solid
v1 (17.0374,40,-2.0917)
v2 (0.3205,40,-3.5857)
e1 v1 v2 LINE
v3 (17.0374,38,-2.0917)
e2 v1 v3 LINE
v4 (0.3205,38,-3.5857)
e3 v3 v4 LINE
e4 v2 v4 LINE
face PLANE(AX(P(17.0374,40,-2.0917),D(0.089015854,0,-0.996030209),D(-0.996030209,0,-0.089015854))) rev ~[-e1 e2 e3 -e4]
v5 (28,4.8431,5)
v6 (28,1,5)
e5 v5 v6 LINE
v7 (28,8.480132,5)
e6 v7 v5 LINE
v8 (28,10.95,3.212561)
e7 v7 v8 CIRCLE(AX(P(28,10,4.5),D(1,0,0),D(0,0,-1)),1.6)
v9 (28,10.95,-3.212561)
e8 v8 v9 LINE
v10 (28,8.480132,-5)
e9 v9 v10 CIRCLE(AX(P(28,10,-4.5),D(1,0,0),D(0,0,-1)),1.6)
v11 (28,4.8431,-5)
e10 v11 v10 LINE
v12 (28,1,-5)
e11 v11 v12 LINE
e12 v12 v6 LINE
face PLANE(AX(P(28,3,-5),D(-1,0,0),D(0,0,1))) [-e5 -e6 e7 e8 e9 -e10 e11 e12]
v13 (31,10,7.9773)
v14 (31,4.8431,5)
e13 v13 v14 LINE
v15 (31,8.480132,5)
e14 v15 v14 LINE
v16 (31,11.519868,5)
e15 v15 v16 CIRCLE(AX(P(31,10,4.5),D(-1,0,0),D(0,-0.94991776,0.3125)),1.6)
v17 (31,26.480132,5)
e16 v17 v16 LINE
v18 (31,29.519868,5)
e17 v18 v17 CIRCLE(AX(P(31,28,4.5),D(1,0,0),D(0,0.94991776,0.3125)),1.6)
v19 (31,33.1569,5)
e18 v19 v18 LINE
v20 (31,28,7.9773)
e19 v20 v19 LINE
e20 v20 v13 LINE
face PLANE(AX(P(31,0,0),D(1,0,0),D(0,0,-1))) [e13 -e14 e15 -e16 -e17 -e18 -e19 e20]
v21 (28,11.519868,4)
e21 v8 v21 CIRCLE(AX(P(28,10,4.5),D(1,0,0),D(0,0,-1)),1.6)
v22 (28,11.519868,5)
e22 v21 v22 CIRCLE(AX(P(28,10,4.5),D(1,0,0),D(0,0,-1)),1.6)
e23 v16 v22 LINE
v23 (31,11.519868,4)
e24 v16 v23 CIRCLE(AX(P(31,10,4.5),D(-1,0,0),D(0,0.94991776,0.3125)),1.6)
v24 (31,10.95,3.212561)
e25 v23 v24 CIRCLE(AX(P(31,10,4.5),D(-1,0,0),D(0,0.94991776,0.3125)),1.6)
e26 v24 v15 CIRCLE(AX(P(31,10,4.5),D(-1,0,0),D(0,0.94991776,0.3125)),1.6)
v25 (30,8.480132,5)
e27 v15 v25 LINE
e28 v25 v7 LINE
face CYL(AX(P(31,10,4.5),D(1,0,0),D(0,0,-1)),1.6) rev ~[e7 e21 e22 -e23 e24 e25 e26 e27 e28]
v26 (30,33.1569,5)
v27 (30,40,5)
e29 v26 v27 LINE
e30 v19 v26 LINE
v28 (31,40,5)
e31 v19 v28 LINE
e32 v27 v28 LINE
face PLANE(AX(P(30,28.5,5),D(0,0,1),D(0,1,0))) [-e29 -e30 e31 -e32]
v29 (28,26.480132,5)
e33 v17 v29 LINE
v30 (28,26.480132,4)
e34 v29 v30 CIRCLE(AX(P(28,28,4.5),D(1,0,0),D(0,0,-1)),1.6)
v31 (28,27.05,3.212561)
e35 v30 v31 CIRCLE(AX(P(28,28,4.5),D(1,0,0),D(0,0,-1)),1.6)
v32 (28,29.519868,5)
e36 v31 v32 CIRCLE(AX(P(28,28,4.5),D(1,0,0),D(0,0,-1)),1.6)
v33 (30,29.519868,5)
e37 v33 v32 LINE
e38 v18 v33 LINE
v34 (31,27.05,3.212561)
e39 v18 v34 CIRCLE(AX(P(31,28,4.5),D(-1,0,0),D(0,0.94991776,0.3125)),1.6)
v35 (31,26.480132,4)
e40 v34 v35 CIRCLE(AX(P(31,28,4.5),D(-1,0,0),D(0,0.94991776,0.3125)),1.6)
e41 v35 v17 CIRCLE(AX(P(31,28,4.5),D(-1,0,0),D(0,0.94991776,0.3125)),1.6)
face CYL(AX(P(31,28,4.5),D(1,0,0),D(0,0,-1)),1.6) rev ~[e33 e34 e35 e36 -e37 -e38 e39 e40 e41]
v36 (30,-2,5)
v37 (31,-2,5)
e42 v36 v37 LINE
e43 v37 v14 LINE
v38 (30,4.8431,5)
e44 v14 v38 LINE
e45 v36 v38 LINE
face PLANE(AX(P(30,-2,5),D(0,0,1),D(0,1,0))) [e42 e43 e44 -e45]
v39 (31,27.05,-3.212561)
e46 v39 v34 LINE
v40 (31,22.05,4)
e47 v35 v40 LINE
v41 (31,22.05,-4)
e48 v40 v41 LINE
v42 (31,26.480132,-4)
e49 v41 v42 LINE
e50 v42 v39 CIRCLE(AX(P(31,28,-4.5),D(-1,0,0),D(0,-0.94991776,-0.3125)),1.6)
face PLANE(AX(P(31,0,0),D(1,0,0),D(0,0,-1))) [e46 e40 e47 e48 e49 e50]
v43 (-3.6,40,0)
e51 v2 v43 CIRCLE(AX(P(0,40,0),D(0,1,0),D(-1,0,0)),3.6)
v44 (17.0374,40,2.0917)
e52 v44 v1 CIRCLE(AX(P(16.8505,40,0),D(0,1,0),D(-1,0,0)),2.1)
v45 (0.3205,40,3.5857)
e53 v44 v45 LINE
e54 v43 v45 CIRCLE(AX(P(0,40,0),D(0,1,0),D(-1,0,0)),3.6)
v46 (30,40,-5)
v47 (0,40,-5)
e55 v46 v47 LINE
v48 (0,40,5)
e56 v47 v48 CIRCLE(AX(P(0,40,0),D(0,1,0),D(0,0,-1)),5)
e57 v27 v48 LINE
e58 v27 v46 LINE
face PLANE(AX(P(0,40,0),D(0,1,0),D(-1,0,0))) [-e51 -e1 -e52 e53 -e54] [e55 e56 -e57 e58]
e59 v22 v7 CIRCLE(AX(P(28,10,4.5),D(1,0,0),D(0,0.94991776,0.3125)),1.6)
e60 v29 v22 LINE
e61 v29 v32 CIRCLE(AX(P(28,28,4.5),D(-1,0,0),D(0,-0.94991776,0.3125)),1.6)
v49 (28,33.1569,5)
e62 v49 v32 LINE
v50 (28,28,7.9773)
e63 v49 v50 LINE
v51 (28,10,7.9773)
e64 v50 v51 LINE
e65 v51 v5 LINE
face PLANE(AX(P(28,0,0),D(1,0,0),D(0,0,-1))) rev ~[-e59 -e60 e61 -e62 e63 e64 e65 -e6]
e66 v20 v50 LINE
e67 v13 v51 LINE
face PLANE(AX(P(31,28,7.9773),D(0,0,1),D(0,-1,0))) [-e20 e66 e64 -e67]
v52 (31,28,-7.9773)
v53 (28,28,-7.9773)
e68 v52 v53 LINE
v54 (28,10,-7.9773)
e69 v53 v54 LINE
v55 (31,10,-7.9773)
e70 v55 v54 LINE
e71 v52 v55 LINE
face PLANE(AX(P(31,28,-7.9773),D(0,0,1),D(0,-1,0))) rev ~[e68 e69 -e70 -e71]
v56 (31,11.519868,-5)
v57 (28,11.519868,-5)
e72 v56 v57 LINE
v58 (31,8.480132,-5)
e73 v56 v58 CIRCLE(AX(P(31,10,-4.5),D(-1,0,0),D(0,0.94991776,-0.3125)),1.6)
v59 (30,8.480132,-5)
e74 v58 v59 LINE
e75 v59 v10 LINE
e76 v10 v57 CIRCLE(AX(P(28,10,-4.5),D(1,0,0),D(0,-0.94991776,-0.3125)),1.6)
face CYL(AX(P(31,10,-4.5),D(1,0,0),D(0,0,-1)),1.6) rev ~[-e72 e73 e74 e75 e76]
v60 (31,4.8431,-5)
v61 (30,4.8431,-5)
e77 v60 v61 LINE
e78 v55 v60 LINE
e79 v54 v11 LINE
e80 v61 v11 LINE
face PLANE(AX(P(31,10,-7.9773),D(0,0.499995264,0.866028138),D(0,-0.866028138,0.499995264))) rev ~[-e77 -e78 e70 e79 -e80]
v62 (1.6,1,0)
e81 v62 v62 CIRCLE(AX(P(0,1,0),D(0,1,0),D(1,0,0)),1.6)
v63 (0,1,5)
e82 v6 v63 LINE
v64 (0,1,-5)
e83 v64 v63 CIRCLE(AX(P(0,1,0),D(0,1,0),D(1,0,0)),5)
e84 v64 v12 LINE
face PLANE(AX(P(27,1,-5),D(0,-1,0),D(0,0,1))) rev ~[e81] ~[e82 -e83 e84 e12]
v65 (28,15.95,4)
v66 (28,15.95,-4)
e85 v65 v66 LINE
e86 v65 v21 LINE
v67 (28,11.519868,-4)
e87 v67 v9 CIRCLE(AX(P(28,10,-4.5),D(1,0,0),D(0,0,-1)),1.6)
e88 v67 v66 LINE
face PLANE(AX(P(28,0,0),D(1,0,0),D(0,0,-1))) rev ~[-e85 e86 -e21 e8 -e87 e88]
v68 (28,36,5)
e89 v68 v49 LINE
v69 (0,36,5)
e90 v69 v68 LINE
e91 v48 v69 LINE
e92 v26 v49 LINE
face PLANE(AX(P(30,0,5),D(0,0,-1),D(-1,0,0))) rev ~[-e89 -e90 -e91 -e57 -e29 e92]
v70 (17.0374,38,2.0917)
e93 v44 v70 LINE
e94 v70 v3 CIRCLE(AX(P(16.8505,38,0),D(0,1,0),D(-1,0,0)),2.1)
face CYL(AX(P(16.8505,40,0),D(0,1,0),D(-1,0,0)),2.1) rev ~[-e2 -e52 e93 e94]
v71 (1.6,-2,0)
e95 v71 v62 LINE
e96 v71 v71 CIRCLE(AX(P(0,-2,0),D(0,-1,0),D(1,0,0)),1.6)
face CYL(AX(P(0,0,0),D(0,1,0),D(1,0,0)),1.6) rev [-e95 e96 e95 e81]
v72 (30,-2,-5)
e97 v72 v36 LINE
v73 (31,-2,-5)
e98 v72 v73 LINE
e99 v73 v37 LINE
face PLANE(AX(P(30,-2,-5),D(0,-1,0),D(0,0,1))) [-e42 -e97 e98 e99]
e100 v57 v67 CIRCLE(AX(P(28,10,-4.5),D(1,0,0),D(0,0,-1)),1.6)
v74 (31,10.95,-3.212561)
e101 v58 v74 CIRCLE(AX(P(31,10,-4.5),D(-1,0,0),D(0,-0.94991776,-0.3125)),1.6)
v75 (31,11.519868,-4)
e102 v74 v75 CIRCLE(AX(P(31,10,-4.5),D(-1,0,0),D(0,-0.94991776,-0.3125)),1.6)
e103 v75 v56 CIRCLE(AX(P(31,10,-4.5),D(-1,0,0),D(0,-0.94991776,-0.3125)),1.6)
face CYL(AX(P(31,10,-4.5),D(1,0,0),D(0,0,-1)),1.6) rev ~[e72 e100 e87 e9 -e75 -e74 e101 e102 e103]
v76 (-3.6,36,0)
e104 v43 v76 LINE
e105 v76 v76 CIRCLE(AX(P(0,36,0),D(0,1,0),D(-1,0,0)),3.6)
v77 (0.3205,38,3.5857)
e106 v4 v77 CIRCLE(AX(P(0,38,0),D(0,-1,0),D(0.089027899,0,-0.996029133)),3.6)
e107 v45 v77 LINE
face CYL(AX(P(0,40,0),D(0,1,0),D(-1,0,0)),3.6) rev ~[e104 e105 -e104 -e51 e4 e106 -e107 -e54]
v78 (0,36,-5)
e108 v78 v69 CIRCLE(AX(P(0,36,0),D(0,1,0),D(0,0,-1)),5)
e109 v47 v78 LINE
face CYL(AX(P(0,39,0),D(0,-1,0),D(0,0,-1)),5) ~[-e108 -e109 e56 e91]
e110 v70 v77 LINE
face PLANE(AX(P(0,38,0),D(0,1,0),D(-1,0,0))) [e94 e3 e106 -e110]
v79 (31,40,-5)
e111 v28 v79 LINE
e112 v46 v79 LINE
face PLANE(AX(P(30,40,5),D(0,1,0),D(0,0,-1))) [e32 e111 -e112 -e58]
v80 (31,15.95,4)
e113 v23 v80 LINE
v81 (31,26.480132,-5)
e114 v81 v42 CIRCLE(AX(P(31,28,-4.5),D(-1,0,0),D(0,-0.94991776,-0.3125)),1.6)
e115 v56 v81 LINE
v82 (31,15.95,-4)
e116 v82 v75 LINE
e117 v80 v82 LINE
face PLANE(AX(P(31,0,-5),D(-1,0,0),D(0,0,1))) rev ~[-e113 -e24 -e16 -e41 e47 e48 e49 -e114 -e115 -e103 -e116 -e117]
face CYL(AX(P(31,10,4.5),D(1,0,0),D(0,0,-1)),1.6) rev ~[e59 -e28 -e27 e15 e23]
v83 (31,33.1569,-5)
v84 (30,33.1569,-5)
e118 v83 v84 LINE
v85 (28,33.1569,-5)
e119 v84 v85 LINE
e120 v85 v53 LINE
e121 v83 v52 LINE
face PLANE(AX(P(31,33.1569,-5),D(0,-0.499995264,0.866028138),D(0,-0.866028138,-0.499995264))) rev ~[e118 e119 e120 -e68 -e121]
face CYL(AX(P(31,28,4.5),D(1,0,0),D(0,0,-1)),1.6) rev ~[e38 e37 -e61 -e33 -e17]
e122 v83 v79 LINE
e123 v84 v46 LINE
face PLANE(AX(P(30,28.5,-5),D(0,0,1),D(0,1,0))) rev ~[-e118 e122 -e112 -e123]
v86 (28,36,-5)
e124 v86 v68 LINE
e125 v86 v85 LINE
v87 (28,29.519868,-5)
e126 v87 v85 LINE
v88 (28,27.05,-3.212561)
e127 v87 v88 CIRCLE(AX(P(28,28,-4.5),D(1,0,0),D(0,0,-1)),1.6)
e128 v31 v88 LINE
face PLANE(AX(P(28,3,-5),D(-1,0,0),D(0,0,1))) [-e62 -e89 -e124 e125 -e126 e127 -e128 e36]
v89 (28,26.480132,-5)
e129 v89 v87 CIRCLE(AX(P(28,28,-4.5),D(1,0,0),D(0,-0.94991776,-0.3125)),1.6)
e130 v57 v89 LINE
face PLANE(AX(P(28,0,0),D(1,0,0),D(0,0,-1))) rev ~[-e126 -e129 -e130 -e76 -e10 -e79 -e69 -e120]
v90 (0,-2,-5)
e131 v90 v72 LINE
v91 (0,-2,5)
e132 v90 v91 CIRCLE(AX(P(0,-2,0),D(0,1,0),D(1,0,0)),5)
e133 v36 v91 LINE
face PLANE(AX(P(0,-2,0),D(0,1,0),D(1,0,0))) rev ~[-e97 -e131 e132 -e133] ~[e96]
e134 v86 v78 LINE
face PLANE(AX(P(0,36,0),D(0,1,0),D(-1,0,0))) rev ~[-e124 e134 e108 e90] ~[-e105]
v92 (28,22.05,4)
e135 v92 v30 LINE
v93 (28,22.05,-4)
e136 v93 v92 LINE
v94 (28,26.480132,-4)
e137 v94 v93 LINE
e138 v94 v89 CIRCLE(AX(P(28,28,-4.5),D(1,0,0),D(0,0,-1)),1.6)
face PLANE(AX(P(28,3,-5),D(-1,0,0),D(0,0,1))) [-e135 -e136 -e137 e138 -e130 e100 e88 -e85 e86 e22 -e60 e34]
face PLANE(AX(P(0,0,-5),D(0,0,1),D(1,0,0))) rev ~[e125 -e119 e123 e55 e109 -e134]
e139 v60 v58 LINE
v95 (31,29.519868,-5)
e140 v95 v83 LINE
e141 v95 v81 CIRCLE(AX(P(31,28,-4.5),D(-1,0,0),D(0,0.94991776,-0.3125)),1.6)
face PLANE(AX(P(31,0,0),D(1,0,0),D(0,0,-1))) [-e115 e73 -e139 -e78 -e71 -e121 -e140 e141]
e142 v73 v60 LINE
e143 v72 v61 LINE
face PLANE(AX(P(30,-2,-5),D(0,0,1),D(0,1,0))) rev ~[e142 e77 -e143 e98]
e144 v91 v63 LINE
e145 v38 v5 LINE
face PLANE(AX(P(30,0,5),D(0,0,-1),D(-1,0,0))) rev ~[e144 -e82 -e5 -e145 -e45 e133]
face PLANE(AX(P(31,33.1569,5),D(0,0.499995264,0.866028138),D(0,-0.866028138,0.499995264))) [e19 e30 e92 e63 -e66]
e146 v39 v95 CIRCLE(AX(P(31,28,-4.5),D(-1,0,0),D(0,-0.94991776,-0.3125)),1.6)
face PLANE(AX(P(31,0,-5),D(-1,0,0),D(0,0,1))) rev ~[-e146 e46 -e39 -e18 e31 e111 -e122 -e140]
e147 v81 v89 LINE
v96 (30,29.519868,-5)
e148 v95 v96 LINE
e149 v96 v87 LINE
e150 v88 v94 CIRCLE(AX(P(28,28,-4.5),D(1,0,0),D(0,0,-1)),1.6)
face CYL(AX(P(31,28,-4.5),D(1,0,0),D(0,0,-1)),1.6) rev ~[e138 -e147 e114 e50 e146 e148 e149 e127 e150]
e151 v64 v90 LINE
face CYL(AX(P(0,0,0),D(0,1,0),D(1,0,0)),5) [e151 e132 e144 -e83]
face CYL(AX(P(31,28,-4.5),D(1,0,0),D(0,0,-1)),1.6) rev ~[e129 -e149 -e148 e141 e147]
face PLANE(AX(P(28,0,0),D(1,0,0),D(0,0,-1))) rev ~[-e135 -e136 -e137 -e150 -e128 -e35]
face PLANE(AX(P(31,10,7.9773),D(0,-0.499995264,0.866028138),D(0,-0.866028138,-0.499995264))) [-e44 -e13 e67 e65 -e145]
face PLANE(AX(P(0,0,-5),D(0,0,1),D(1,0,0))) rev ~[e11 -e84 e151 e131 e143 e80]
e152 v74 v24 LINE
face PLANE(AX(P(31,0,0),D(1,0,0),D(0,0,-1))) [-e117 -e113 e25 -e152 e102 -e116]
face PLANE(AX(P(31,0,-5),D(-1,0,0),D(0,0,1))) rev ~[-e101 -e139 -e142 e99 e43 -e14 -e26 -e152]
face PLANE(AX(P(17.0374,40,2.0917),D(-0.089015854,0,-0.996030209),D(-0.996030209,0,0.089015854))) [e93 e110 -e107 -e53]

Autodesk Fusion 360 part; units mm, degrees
sketch "スケッチ1" plane through (0, 0, 0) normal (0, 1, 0) x (1, 0, 0)
  circle A0 centre (0, 0) radius 1.6
  circle A1 centre (0, 0) radius 5
  line L0 (0, 5) -> (30, 5)
  line L1 (30, 5) -> (30, -5)
  line L2 (30, -5) -> (0, -5)
  line L3 (0, -5) -> (0, 5)
  dimension "d1" = 3.2
  dimension "d2" = 30
  dimension "d3" = 10
extrude "押し出し1" add sketch "スケッチ1" along normal blind 3 contours A0 A1 L3 | A0 A1 L3 | A1 L0 L1 L2
sketch "スケッチ2" plane through (0, 3, 0) normal (0, 1, 0) x (-1, 0, 0)
  circle A0 centre (0, 0) radius 1.6
  arc A1 (0, -5) -> (0, 5) centre (0, 0) ccw
  line L0 (0, 5) -> (-30, 5)
  line L1 (-30, 5) -> (-30, -5)
  line L2 (-30, -5) -> (0, -5)
  line L3 (-30, -5) -> (-27, -5)
  line L4 (-27, -5) -> (-27, 5)
  line L5 (-27, 5) -> (-30, 5)
  line L6 (-30, 5) -> (-30, -5)
  dimension "d6" = 3
  dimension "d7" = 10
extrude "押し出し2" add sketch "スケッチ2" along normal blind 30 contours L0 L1 L2 L3 L4 L5 L6
sketch "スケッチ3" plane through (0, 33, 0) normal (0, 1, 0) x (-1, 0, 0)
  line L0 (-30, 5) -> (-30, -5)
  line L1 (-30, -5) -> (-27, -5)
  line L2 (-27, -5) -> (-27, 5)
  line L3 (-27, 5) -> (-30, 5)
  line L4 (-27, 5) -> (-27, -5)
  line L5 (-27, -5) -> (0, -5)
  arc A0 (0, -5) -> (0, 5) centre (0, 0) ccw
  line L6 (0, 5) -> (-27, 5)
  circle A1 centre (0, 0) radius 1.6
extrude "押し出し3" add sketch "スケッチ3" along normal blind 3
extrude "押し出し4" add 1 faces at (19.5096, 36, -0.1572) along direction (0, 1, 0) blind 3
extrude "押し出し5" cut 1 faces at (18.5333, 33, 0) along direction (0, 1, 0) blind 3
extrude "押し出し6" add 1 faces at (19.5096, 39, -0.1572) along direction (0, 1, 0) blind 2
extrude "押し出し7" cut 1 faces at (18.5333, 36, 0) along direction (0, 1, 0) blind 2
extrude "押し出し8" add 1 faces at (18.5333, 38, 0) along direction (0, -1, 0) blind 2
extrude "押し出し9" cut 1 faces at (19.5096, 41, -0.1572) along direction (0, -1, 0) blind 2
extrude "押し出し10" add 1 faces at (19.5096, 39, -0.1572) along direction (0, 1, 0) blind 1
sketch "スケッチ4" plane through (0, 40, 0) normal (0, 1, 0) x (-1, 0, 0)
  circle A0 centre (0, 0) radius 1.6
  line L0 (0, 5) -> (-30, 5)
  line L1 (-30, 5) -> (-30, -5)
  line L2 (-30, -5) -> (0, -5)
  arc A1 (0, -5) -> (0, 5) centre (0, 0) ccw
  circle A2 centre (0, 0) radius 3.6
  dimension "d26" = 7.2
extrude "押し出し11" cut sketch "スケッチ4" against normal blind 10 contours A2
sketch "スケッチ5" plane through (0, 40, 0) normal (0, 1, 0) x (-1, 0, 0)
  circle A0 centre (0, 0) radius 3.6
  line L0 (0, 5) -> (-30, 5)
  line L1 (-30, 5) -> (-30, -5)
  line L2 (-30, -5) -> (0, -5)
  arc A1 (0, -5) -> (0, 5) centre (0, 0) ccw
  circle A2 centre (0, 0) radius 3.6
  line L3 (0, 0) -> (-2.3505, 0)
  line L4 (-2.3505, 0) -> (-16.8505, 0)
  circle A3 centre (-16.8505, 0) radius 2.1
  line L5 (-17.0374, -2.0917) -> (-0.3205, -3.5857)
  line L6 (-17.0374, 2.0917) -> (-0.3205, 3.5857)
  dimension "d29" = 14.5
  dimension "d30" = 4.2
extrude "押し出し12" cut sketch "スケッチ5" against normal blind 2 contours A0 A2 L4 A3 L6 | A0 A2 L4 A3 L5 | A3
extrude "押し出し13" cut 1 faces at (18.5333, 3, 0) along direction (0, -1, 0) blind 2
extrude "押し出し14" add 1 faces at (20.5333, 0, 0) along direction (0, -1, 0) blind 2
sketch "スケッチ6" plane through (30, 0, 0) normal (1, 0, 0) x (0, 0, -1)
  line L0 (-5, 40) -> (-5, -2)
  line L1 (-5, -2) -> (5, -2)
  line L2 (5, -2) -> (5, 40)
  line L3 (5, 40) -> (-5, 40)
  line L4 (5, -2) -> (5, -1)
  line L5 (-5, 40) -> (5, -2)
  line L6 (12, 26.5) -> (-12, 26.5)
  line L7 (-12, 26.5) -> (-12, 11.5)
  line L8 (-12, 11.5) -> (12, 11.5)
  line L9 (12, 11.5) -> (12, 26.5)
  line L10 (12, 26.5) -> (-12, 11.5) construction
  line L11 (-12, 26.5) -> (12, 11.5) construction
  line L12 (-12, 26.5) -> (-9, 26.5)
  line L13 (-9, 26.5) -> (-9, 23.5)
  line L14 (-9, 23.5) -> (-12, 23.5)
  line L15 (-12, 23.5) -> (-12, 26.5)
  line L16 (-12, 11.5) -> (-9, 11.5)
  line L17 (-9, 11.5) -> (-9, 14.5)
  line L18 (-9, 14.5) -> (-12, 14.5)
  line L19 (-12, 14.5) -> (-12, 11.5)
  line L20 (12, 26.5) -> (9, 26.5)
  line L21 (9, 26.5) -> (9, 23.5)
  line L22 (9, 23.5) -> (12, 23.5)
  line L23 (12, 23.5) -> (12, 26.5)
  line L24 (12, 11.5) -> (9, 11.5)
  line L25 (9, 11.5) -> (9, 14.5)
  line L26 (9, 14.5) -> (12, 14.5)
  line L27 (12, 14.5) -> (12, 11.5)
  circle A0 centre (-9, 23.5) radius 1.6
  circle A1 centre (-9, 14.5) radius 1.6
  circle A2 centre (9, 14.5) radius 1.6
  circle A3 centre (9, 23.5) radius 1.6
  point P0 (0, 19)
  dimension "d37" = 24
  dimension "d38" = 15
  dimension "d39" = 3
  dimension "d40" = 3
  dimension "d41" = 3
  dimension "d42" = 3
  dimension "d43" = 3
  dimension "d44" = 3
  dimension "d45" = 3
  dimension "d46" = 3
  dimension "d47" = 3.2
  dimension "d48" = 3.2
  dimension "d49" = 3.2
  dimension "d50" = 3.2
extrude "押し出し15" add sketch "スケッチ6" against normal blind 3 contours L0 L6 L7 L8 L13 L14 L17 L18 A0 A1 | L6 L7 L12 L13 L14 L15 A0 | L2 L6 L8 L9 L21 L22 L25 L26 A2 A3 | L7 L8 L16 L17 L18 L19 A1 | L6 L9 L20 L21 L22 L23 A3 | L8 L9 L24 L25 L26 L27 A2
chamfer "面取り1" distance 2 angle 45 4 edges at (28.5, 11.5, -12) (28.5, 26.5, -12) (28.5, 26.5, 12) (28.5, 11.5, 12)
sketch "スケッチ7" plane through (30, 0, 0) normal (1, 0, 0) x (0, 0, -1)
  circle A0 centre (-9, 14.5) radius 1.6
  circle A1 centre (-9, 23.5) radius 1.6
  circle A2 centre (9, 23.5) radius 1.6
  circle A3 centre (9, 14.5) radius 1.6
  line L0 (-12, 13.5) -> (-10, 11.5)
  line L1 (-10, 11.5) -> (-5, 11.5)
  line L2 (-5, 11.5) -> (-5, -2)
  line L3 (-5, -2) -> (5, -2)
  line L4 (5, -2) -> (5, 11.5)
  line L5 (5, 11.5) -> (10, 11.5)
  line L6 (10, 11.5) -> (12, 13.5)
  line L7 (12, 13.5) -> (12, 24.5)
  line L8 (12, 24.5) -> (10, 26.5)
  line L9 (10, 26.5) -> (5, 26.5)
  line L10 (5, 26.5) -> (5, 40)
  line L11 (5, 40) -> (-5, 40)
  line L12 (-5, 40) -> (-5, 26.5)
  line L13 (-5, 26.5) -> (-10, 26.5)
  line L14 (-10, 26.5) -> (-12, 24.5)
  line L15 (-12, 24.5) -> (-12, 13.5)
  line L16 (-12, 19) -> (12, 19)
  line L17 (0, 19) -> (0, 15.95)
  line L18 (0, 15.95) -> (4, 15.95)
  line L19 (0, 15.95) -> (-4, 15.95)
  line L20 (-4, 15.95) -> (4, 15.95)
  line L21 (4, 15.95) -> (4, 10.95)
  line L22 (4, 10.95) -> (-4, 10.95)
  line L23 (-4, 10.95) -> (-4, 15.95)
  line L24 (-4, 15.95) -> (-4, 22.05)
  line L25 (-4, 22.05) -> (4, 22.05)
  line L26 (4, 22.05) -> (4, 27.05)
  line L27 (4, 27.05) -> (-4, 27.05)
  line L28 (-4, 27.05) -> (-4, 22.05)
  dimension "d54" = 3.05
  dimension "d55" = 4
  dimension "d56" = 4
  dimension "d57" = 8
  dimension "d58" = 5
  dimension "d59" = 6.1
  dimension "d60" = 8
  dimension "d61" = 5
extrude "押し出し16" cut sketch "スケッチ7" against normal blind 11 contours L25 L26 L27 L28 | L18 L19 L20 L21 L22 L23
chamfer "面取り2" distance 2 angle 45 4 edges at (28.5, 26.5, 5) (28.5, 26.5, -5) (28.5, 11.5, -5) (28.5, 11.5, 5)
extrude "押し出し17" cut 1 faces at (27, 4.5, -1.6667) along direction (1, 0, 0) blind 1
extrude "押し出し18" add 1 faces at (30, 3.5, -1.6667) along direction (1, 0, 0) blind 1
sketch "スケッチ8" plane through (31, 0, 0) normal (1, 0, 0) x (0, 0, -1)
  line L0 (4, 22.05) -> (-4, 22.05)
  line L1 (-4, 22.05) -> (-4, 27.05)
  line L2 (-4, 27.05) -> (4, 27.05)
  line L3 (4, 27.05) -> (4, 22.05)
  line L4 (4, 15.95) -> (4, 10.95)
  line L5 (4, 10.95) -> (-4, 10.95)
  line L6 (-4, 10.95) -> (-4, 15.95)
  line L7 (-4, 15.95) -> (4, 15.95)
  circle A0 centre (-9, 14.5) radius 1.6
  circle A1 centre (-9, 23.5) radius 1.6
  circle A2 centre (9, 23.5) radius 1.6
  circle A3 centre (9, 14.5) radius 1.6
  line L8 (-12, 13.5) -> (-10, 11.5)
  line L9 (-10, 11.5) -> (-7, 11.5)
  line L10 (-7, 11.5) -> (-5, 9.5)
  line L11 (-5, 9.5) -> (-5, -2)
  line L12 (-5, -2) -> (5, -2)
  line L13 (5, -2) -> (5, 9.5)
  line L14 (5, 9.5) -> (7, 11.5)
  line L15 (7, 11.5) -> (10, 11.5)
  line L16 (10, 11.5) -> (12, 13.5)
  line L17 (12, 13.5) -> (12, 24.5)
  line L18 (12, 24.5) -> (10, 26.5)
  line L19 (10, 26.5) -> (7, 26.5)
  line L20 (7, 26.5) -> (5, 28.5)
  line L21 (5, 28.5) -> (5, 40)
  line L22 (5, 40) -> (-5, 40)
  line L23 (-5, 40) -> (-5, 28.5)
  line L24 (-5, 28.5) -> (-7, 26.5)
  line L25 (-7, 26.5) -> (-10, 26.5)
  line L26 (-10, 26.5) -> (-12, 24.5)
  line L27 (-12, 24.5) -> (-12, 13.5)
  line L28 (-5, 28.5) -> (-5, 9.5)
  line L29 (5, 28.5) -> (5, 9.5)
extrude "押し出し19" cut sketch "スケッチ8" against normal blind 10 contours L8 L9 L10 L24 L25 L26 L27 L28 | L14 L15 L16 L17 L18 L19 L20 L29
sketch "スケッチ9" plane through (31, 0, 0) normal (1, 0, 0) x (0, 0, -1)
  line L0 (-5, 40) -> (-5, -2)
  line L1 (-5, -2) -> (5, -2)
  line L2 (5, -2) -> (5, 40)
  line L3 (5, 40) -> (-5, 40)
  line L4 (4, 22.05) -> (-4, 22.05)
  line L5 (-4, 22.05) -> (-4, 27.05)
  line L6 (-4, 27.05) -> (4, 27.05)
  line L7 (4, 27.05) -> (4, 22.05)
  line L8 (4, 15.95) -> (4, 10.95)
  line L9 (4, 10.95) -> (-4, 10.95)
  line L10 (-4, 10.95) -> (-4, 15.95)
  line L11 (-4, 15.95) -> (4, 15.95)
  line L12 (-4, 27.05) -> (4, 27.05)
  line L13 (4, 27.05) -> (4, 22.05)
  line L14 (4, 22.05) -> (-4, 22.05)
  line L15 (-4, 22.05) -> (-4, 27.05)
  line L16 (-4, 15.95) -> (4, 15.95)
  line L17 (4, 15.95) -> (4, 10.95)
  line L18 (4, 10.95) -> (-4, 10.95)
  line L19 (-4, 10.95) -> (-4, 15.95)
extrude "押し出し20" add sketch "スケッチ9" against normal blind 3 contours L4 L5 L6 L7 L12 L13 L14 L15 | L8 L9 L10 L11 L16 L17 L18 L19
sketch "スケッチ10" plane through (31, 0, 0) normal (1, 0, 0) x (0, 0, -1)
  line L0 (-5, 40) -> (-5, -2)
  line L1 (-5, -2) -> (5, -2)
  line L2 (5, -2) -> (5, 40)
  line L3 (5, 40) -> (-5, 40)
  line L4 (-5, 40) -> (5, -2)
  line L5 (4.5, 28) -> (-4.5, 28)
  line L6 (-4.5, 28) -> (-4.5, 10)
  line L7 (-4.5, 10) -> (4.5, 10)
  line L8 (4.5, 10) -> (4.5, 28)
  line L9 (4.5, 28) -> (-4.5, 10) construction
  line L10 (-4.5, 28) -> (4.5, 10) construction
  circle A0 centre (-4.5, 28) radius 1.6
  circle A1 centre (4.5, 28) radius 1.6
  circle A2 centre (-4.5, 10) radius 1.6
  circle A3 centre (4.5, 10) radius 1.6
  line L11 (-4.5, 28) -> (-7.3284, 30.8284)
  line L12 (-4.5, 28) -> (-0.5, 28) construction
  line L13 (-7.3284, 30.8284) -> (-5, 33.1569)
  line L14 (-4.5, 28) -> (-12, 28)
  line L15 (-7.3284, 30.8284) -> (-10.1569, 28)
  line L16 (-5, 33.1569) -> (-7.9773, 28)
  line L17 (-5, 33.1569) -> (0.9546, 33.1569) construction
  line L18 (-4.5, 10) -> (-11, 10)
  line L19 (-7.9773, 28) -> (-7.9773, 10)
  line L20 (-7.9773, 10) -> (-5, 4.8431)
  line L21 (-7.9773, 10) -> (-2.0227, 10) construction
  line L22 (4.5, 10) -> (11, 10)
  line L23 (0, 19) -> (0, 15)
  line L24 (5, 33.1569) -> (7.9773, 28)
  line L25 (7.9773, 28) -> (7.9773, 10)
  line L26 (7.9773, 10) -> (5, 4.8431)
  point P0 (0, 19)
  dimension "d73" = 9
  dimension "d74" = 18
  dimension "d75" = 3.2
  dimension "d76" = 3.2
  dimension "d77" = 3.2
  dimension "d78" = 3.2
  dimension "d79" = 135
  dimension "d80" = 4
  dimension "d81" = 120
  dimension "d82" = 60
extrude "押し出し21" add sketch "スケッチ10" against normal blind 3 contours L0 A0 L11 L16 | A0 L11 L14 L16 | L2 A1 A3 L22 L24 L25 | L0 A0 A2 L14 L18 L19 | L0 A2 L18 L20 | L2 A3 L22 L26
extrude "押し出し22" cut sketch "スケッチ10" against normal blind 3.5 contours L0 L5 A0 L11 | L2 L5 L8 A1 | L5 L8 A1 | L5 L6 A0 | L0 L11 L14 | L0 L6 A0 L14 | L0 L7 A2 L18 | L6 L7 A2 | L7 L8 A3 | L2 L7 A3 L22 | L2 L8 A3 L22 | L0 L6 A2 L18
